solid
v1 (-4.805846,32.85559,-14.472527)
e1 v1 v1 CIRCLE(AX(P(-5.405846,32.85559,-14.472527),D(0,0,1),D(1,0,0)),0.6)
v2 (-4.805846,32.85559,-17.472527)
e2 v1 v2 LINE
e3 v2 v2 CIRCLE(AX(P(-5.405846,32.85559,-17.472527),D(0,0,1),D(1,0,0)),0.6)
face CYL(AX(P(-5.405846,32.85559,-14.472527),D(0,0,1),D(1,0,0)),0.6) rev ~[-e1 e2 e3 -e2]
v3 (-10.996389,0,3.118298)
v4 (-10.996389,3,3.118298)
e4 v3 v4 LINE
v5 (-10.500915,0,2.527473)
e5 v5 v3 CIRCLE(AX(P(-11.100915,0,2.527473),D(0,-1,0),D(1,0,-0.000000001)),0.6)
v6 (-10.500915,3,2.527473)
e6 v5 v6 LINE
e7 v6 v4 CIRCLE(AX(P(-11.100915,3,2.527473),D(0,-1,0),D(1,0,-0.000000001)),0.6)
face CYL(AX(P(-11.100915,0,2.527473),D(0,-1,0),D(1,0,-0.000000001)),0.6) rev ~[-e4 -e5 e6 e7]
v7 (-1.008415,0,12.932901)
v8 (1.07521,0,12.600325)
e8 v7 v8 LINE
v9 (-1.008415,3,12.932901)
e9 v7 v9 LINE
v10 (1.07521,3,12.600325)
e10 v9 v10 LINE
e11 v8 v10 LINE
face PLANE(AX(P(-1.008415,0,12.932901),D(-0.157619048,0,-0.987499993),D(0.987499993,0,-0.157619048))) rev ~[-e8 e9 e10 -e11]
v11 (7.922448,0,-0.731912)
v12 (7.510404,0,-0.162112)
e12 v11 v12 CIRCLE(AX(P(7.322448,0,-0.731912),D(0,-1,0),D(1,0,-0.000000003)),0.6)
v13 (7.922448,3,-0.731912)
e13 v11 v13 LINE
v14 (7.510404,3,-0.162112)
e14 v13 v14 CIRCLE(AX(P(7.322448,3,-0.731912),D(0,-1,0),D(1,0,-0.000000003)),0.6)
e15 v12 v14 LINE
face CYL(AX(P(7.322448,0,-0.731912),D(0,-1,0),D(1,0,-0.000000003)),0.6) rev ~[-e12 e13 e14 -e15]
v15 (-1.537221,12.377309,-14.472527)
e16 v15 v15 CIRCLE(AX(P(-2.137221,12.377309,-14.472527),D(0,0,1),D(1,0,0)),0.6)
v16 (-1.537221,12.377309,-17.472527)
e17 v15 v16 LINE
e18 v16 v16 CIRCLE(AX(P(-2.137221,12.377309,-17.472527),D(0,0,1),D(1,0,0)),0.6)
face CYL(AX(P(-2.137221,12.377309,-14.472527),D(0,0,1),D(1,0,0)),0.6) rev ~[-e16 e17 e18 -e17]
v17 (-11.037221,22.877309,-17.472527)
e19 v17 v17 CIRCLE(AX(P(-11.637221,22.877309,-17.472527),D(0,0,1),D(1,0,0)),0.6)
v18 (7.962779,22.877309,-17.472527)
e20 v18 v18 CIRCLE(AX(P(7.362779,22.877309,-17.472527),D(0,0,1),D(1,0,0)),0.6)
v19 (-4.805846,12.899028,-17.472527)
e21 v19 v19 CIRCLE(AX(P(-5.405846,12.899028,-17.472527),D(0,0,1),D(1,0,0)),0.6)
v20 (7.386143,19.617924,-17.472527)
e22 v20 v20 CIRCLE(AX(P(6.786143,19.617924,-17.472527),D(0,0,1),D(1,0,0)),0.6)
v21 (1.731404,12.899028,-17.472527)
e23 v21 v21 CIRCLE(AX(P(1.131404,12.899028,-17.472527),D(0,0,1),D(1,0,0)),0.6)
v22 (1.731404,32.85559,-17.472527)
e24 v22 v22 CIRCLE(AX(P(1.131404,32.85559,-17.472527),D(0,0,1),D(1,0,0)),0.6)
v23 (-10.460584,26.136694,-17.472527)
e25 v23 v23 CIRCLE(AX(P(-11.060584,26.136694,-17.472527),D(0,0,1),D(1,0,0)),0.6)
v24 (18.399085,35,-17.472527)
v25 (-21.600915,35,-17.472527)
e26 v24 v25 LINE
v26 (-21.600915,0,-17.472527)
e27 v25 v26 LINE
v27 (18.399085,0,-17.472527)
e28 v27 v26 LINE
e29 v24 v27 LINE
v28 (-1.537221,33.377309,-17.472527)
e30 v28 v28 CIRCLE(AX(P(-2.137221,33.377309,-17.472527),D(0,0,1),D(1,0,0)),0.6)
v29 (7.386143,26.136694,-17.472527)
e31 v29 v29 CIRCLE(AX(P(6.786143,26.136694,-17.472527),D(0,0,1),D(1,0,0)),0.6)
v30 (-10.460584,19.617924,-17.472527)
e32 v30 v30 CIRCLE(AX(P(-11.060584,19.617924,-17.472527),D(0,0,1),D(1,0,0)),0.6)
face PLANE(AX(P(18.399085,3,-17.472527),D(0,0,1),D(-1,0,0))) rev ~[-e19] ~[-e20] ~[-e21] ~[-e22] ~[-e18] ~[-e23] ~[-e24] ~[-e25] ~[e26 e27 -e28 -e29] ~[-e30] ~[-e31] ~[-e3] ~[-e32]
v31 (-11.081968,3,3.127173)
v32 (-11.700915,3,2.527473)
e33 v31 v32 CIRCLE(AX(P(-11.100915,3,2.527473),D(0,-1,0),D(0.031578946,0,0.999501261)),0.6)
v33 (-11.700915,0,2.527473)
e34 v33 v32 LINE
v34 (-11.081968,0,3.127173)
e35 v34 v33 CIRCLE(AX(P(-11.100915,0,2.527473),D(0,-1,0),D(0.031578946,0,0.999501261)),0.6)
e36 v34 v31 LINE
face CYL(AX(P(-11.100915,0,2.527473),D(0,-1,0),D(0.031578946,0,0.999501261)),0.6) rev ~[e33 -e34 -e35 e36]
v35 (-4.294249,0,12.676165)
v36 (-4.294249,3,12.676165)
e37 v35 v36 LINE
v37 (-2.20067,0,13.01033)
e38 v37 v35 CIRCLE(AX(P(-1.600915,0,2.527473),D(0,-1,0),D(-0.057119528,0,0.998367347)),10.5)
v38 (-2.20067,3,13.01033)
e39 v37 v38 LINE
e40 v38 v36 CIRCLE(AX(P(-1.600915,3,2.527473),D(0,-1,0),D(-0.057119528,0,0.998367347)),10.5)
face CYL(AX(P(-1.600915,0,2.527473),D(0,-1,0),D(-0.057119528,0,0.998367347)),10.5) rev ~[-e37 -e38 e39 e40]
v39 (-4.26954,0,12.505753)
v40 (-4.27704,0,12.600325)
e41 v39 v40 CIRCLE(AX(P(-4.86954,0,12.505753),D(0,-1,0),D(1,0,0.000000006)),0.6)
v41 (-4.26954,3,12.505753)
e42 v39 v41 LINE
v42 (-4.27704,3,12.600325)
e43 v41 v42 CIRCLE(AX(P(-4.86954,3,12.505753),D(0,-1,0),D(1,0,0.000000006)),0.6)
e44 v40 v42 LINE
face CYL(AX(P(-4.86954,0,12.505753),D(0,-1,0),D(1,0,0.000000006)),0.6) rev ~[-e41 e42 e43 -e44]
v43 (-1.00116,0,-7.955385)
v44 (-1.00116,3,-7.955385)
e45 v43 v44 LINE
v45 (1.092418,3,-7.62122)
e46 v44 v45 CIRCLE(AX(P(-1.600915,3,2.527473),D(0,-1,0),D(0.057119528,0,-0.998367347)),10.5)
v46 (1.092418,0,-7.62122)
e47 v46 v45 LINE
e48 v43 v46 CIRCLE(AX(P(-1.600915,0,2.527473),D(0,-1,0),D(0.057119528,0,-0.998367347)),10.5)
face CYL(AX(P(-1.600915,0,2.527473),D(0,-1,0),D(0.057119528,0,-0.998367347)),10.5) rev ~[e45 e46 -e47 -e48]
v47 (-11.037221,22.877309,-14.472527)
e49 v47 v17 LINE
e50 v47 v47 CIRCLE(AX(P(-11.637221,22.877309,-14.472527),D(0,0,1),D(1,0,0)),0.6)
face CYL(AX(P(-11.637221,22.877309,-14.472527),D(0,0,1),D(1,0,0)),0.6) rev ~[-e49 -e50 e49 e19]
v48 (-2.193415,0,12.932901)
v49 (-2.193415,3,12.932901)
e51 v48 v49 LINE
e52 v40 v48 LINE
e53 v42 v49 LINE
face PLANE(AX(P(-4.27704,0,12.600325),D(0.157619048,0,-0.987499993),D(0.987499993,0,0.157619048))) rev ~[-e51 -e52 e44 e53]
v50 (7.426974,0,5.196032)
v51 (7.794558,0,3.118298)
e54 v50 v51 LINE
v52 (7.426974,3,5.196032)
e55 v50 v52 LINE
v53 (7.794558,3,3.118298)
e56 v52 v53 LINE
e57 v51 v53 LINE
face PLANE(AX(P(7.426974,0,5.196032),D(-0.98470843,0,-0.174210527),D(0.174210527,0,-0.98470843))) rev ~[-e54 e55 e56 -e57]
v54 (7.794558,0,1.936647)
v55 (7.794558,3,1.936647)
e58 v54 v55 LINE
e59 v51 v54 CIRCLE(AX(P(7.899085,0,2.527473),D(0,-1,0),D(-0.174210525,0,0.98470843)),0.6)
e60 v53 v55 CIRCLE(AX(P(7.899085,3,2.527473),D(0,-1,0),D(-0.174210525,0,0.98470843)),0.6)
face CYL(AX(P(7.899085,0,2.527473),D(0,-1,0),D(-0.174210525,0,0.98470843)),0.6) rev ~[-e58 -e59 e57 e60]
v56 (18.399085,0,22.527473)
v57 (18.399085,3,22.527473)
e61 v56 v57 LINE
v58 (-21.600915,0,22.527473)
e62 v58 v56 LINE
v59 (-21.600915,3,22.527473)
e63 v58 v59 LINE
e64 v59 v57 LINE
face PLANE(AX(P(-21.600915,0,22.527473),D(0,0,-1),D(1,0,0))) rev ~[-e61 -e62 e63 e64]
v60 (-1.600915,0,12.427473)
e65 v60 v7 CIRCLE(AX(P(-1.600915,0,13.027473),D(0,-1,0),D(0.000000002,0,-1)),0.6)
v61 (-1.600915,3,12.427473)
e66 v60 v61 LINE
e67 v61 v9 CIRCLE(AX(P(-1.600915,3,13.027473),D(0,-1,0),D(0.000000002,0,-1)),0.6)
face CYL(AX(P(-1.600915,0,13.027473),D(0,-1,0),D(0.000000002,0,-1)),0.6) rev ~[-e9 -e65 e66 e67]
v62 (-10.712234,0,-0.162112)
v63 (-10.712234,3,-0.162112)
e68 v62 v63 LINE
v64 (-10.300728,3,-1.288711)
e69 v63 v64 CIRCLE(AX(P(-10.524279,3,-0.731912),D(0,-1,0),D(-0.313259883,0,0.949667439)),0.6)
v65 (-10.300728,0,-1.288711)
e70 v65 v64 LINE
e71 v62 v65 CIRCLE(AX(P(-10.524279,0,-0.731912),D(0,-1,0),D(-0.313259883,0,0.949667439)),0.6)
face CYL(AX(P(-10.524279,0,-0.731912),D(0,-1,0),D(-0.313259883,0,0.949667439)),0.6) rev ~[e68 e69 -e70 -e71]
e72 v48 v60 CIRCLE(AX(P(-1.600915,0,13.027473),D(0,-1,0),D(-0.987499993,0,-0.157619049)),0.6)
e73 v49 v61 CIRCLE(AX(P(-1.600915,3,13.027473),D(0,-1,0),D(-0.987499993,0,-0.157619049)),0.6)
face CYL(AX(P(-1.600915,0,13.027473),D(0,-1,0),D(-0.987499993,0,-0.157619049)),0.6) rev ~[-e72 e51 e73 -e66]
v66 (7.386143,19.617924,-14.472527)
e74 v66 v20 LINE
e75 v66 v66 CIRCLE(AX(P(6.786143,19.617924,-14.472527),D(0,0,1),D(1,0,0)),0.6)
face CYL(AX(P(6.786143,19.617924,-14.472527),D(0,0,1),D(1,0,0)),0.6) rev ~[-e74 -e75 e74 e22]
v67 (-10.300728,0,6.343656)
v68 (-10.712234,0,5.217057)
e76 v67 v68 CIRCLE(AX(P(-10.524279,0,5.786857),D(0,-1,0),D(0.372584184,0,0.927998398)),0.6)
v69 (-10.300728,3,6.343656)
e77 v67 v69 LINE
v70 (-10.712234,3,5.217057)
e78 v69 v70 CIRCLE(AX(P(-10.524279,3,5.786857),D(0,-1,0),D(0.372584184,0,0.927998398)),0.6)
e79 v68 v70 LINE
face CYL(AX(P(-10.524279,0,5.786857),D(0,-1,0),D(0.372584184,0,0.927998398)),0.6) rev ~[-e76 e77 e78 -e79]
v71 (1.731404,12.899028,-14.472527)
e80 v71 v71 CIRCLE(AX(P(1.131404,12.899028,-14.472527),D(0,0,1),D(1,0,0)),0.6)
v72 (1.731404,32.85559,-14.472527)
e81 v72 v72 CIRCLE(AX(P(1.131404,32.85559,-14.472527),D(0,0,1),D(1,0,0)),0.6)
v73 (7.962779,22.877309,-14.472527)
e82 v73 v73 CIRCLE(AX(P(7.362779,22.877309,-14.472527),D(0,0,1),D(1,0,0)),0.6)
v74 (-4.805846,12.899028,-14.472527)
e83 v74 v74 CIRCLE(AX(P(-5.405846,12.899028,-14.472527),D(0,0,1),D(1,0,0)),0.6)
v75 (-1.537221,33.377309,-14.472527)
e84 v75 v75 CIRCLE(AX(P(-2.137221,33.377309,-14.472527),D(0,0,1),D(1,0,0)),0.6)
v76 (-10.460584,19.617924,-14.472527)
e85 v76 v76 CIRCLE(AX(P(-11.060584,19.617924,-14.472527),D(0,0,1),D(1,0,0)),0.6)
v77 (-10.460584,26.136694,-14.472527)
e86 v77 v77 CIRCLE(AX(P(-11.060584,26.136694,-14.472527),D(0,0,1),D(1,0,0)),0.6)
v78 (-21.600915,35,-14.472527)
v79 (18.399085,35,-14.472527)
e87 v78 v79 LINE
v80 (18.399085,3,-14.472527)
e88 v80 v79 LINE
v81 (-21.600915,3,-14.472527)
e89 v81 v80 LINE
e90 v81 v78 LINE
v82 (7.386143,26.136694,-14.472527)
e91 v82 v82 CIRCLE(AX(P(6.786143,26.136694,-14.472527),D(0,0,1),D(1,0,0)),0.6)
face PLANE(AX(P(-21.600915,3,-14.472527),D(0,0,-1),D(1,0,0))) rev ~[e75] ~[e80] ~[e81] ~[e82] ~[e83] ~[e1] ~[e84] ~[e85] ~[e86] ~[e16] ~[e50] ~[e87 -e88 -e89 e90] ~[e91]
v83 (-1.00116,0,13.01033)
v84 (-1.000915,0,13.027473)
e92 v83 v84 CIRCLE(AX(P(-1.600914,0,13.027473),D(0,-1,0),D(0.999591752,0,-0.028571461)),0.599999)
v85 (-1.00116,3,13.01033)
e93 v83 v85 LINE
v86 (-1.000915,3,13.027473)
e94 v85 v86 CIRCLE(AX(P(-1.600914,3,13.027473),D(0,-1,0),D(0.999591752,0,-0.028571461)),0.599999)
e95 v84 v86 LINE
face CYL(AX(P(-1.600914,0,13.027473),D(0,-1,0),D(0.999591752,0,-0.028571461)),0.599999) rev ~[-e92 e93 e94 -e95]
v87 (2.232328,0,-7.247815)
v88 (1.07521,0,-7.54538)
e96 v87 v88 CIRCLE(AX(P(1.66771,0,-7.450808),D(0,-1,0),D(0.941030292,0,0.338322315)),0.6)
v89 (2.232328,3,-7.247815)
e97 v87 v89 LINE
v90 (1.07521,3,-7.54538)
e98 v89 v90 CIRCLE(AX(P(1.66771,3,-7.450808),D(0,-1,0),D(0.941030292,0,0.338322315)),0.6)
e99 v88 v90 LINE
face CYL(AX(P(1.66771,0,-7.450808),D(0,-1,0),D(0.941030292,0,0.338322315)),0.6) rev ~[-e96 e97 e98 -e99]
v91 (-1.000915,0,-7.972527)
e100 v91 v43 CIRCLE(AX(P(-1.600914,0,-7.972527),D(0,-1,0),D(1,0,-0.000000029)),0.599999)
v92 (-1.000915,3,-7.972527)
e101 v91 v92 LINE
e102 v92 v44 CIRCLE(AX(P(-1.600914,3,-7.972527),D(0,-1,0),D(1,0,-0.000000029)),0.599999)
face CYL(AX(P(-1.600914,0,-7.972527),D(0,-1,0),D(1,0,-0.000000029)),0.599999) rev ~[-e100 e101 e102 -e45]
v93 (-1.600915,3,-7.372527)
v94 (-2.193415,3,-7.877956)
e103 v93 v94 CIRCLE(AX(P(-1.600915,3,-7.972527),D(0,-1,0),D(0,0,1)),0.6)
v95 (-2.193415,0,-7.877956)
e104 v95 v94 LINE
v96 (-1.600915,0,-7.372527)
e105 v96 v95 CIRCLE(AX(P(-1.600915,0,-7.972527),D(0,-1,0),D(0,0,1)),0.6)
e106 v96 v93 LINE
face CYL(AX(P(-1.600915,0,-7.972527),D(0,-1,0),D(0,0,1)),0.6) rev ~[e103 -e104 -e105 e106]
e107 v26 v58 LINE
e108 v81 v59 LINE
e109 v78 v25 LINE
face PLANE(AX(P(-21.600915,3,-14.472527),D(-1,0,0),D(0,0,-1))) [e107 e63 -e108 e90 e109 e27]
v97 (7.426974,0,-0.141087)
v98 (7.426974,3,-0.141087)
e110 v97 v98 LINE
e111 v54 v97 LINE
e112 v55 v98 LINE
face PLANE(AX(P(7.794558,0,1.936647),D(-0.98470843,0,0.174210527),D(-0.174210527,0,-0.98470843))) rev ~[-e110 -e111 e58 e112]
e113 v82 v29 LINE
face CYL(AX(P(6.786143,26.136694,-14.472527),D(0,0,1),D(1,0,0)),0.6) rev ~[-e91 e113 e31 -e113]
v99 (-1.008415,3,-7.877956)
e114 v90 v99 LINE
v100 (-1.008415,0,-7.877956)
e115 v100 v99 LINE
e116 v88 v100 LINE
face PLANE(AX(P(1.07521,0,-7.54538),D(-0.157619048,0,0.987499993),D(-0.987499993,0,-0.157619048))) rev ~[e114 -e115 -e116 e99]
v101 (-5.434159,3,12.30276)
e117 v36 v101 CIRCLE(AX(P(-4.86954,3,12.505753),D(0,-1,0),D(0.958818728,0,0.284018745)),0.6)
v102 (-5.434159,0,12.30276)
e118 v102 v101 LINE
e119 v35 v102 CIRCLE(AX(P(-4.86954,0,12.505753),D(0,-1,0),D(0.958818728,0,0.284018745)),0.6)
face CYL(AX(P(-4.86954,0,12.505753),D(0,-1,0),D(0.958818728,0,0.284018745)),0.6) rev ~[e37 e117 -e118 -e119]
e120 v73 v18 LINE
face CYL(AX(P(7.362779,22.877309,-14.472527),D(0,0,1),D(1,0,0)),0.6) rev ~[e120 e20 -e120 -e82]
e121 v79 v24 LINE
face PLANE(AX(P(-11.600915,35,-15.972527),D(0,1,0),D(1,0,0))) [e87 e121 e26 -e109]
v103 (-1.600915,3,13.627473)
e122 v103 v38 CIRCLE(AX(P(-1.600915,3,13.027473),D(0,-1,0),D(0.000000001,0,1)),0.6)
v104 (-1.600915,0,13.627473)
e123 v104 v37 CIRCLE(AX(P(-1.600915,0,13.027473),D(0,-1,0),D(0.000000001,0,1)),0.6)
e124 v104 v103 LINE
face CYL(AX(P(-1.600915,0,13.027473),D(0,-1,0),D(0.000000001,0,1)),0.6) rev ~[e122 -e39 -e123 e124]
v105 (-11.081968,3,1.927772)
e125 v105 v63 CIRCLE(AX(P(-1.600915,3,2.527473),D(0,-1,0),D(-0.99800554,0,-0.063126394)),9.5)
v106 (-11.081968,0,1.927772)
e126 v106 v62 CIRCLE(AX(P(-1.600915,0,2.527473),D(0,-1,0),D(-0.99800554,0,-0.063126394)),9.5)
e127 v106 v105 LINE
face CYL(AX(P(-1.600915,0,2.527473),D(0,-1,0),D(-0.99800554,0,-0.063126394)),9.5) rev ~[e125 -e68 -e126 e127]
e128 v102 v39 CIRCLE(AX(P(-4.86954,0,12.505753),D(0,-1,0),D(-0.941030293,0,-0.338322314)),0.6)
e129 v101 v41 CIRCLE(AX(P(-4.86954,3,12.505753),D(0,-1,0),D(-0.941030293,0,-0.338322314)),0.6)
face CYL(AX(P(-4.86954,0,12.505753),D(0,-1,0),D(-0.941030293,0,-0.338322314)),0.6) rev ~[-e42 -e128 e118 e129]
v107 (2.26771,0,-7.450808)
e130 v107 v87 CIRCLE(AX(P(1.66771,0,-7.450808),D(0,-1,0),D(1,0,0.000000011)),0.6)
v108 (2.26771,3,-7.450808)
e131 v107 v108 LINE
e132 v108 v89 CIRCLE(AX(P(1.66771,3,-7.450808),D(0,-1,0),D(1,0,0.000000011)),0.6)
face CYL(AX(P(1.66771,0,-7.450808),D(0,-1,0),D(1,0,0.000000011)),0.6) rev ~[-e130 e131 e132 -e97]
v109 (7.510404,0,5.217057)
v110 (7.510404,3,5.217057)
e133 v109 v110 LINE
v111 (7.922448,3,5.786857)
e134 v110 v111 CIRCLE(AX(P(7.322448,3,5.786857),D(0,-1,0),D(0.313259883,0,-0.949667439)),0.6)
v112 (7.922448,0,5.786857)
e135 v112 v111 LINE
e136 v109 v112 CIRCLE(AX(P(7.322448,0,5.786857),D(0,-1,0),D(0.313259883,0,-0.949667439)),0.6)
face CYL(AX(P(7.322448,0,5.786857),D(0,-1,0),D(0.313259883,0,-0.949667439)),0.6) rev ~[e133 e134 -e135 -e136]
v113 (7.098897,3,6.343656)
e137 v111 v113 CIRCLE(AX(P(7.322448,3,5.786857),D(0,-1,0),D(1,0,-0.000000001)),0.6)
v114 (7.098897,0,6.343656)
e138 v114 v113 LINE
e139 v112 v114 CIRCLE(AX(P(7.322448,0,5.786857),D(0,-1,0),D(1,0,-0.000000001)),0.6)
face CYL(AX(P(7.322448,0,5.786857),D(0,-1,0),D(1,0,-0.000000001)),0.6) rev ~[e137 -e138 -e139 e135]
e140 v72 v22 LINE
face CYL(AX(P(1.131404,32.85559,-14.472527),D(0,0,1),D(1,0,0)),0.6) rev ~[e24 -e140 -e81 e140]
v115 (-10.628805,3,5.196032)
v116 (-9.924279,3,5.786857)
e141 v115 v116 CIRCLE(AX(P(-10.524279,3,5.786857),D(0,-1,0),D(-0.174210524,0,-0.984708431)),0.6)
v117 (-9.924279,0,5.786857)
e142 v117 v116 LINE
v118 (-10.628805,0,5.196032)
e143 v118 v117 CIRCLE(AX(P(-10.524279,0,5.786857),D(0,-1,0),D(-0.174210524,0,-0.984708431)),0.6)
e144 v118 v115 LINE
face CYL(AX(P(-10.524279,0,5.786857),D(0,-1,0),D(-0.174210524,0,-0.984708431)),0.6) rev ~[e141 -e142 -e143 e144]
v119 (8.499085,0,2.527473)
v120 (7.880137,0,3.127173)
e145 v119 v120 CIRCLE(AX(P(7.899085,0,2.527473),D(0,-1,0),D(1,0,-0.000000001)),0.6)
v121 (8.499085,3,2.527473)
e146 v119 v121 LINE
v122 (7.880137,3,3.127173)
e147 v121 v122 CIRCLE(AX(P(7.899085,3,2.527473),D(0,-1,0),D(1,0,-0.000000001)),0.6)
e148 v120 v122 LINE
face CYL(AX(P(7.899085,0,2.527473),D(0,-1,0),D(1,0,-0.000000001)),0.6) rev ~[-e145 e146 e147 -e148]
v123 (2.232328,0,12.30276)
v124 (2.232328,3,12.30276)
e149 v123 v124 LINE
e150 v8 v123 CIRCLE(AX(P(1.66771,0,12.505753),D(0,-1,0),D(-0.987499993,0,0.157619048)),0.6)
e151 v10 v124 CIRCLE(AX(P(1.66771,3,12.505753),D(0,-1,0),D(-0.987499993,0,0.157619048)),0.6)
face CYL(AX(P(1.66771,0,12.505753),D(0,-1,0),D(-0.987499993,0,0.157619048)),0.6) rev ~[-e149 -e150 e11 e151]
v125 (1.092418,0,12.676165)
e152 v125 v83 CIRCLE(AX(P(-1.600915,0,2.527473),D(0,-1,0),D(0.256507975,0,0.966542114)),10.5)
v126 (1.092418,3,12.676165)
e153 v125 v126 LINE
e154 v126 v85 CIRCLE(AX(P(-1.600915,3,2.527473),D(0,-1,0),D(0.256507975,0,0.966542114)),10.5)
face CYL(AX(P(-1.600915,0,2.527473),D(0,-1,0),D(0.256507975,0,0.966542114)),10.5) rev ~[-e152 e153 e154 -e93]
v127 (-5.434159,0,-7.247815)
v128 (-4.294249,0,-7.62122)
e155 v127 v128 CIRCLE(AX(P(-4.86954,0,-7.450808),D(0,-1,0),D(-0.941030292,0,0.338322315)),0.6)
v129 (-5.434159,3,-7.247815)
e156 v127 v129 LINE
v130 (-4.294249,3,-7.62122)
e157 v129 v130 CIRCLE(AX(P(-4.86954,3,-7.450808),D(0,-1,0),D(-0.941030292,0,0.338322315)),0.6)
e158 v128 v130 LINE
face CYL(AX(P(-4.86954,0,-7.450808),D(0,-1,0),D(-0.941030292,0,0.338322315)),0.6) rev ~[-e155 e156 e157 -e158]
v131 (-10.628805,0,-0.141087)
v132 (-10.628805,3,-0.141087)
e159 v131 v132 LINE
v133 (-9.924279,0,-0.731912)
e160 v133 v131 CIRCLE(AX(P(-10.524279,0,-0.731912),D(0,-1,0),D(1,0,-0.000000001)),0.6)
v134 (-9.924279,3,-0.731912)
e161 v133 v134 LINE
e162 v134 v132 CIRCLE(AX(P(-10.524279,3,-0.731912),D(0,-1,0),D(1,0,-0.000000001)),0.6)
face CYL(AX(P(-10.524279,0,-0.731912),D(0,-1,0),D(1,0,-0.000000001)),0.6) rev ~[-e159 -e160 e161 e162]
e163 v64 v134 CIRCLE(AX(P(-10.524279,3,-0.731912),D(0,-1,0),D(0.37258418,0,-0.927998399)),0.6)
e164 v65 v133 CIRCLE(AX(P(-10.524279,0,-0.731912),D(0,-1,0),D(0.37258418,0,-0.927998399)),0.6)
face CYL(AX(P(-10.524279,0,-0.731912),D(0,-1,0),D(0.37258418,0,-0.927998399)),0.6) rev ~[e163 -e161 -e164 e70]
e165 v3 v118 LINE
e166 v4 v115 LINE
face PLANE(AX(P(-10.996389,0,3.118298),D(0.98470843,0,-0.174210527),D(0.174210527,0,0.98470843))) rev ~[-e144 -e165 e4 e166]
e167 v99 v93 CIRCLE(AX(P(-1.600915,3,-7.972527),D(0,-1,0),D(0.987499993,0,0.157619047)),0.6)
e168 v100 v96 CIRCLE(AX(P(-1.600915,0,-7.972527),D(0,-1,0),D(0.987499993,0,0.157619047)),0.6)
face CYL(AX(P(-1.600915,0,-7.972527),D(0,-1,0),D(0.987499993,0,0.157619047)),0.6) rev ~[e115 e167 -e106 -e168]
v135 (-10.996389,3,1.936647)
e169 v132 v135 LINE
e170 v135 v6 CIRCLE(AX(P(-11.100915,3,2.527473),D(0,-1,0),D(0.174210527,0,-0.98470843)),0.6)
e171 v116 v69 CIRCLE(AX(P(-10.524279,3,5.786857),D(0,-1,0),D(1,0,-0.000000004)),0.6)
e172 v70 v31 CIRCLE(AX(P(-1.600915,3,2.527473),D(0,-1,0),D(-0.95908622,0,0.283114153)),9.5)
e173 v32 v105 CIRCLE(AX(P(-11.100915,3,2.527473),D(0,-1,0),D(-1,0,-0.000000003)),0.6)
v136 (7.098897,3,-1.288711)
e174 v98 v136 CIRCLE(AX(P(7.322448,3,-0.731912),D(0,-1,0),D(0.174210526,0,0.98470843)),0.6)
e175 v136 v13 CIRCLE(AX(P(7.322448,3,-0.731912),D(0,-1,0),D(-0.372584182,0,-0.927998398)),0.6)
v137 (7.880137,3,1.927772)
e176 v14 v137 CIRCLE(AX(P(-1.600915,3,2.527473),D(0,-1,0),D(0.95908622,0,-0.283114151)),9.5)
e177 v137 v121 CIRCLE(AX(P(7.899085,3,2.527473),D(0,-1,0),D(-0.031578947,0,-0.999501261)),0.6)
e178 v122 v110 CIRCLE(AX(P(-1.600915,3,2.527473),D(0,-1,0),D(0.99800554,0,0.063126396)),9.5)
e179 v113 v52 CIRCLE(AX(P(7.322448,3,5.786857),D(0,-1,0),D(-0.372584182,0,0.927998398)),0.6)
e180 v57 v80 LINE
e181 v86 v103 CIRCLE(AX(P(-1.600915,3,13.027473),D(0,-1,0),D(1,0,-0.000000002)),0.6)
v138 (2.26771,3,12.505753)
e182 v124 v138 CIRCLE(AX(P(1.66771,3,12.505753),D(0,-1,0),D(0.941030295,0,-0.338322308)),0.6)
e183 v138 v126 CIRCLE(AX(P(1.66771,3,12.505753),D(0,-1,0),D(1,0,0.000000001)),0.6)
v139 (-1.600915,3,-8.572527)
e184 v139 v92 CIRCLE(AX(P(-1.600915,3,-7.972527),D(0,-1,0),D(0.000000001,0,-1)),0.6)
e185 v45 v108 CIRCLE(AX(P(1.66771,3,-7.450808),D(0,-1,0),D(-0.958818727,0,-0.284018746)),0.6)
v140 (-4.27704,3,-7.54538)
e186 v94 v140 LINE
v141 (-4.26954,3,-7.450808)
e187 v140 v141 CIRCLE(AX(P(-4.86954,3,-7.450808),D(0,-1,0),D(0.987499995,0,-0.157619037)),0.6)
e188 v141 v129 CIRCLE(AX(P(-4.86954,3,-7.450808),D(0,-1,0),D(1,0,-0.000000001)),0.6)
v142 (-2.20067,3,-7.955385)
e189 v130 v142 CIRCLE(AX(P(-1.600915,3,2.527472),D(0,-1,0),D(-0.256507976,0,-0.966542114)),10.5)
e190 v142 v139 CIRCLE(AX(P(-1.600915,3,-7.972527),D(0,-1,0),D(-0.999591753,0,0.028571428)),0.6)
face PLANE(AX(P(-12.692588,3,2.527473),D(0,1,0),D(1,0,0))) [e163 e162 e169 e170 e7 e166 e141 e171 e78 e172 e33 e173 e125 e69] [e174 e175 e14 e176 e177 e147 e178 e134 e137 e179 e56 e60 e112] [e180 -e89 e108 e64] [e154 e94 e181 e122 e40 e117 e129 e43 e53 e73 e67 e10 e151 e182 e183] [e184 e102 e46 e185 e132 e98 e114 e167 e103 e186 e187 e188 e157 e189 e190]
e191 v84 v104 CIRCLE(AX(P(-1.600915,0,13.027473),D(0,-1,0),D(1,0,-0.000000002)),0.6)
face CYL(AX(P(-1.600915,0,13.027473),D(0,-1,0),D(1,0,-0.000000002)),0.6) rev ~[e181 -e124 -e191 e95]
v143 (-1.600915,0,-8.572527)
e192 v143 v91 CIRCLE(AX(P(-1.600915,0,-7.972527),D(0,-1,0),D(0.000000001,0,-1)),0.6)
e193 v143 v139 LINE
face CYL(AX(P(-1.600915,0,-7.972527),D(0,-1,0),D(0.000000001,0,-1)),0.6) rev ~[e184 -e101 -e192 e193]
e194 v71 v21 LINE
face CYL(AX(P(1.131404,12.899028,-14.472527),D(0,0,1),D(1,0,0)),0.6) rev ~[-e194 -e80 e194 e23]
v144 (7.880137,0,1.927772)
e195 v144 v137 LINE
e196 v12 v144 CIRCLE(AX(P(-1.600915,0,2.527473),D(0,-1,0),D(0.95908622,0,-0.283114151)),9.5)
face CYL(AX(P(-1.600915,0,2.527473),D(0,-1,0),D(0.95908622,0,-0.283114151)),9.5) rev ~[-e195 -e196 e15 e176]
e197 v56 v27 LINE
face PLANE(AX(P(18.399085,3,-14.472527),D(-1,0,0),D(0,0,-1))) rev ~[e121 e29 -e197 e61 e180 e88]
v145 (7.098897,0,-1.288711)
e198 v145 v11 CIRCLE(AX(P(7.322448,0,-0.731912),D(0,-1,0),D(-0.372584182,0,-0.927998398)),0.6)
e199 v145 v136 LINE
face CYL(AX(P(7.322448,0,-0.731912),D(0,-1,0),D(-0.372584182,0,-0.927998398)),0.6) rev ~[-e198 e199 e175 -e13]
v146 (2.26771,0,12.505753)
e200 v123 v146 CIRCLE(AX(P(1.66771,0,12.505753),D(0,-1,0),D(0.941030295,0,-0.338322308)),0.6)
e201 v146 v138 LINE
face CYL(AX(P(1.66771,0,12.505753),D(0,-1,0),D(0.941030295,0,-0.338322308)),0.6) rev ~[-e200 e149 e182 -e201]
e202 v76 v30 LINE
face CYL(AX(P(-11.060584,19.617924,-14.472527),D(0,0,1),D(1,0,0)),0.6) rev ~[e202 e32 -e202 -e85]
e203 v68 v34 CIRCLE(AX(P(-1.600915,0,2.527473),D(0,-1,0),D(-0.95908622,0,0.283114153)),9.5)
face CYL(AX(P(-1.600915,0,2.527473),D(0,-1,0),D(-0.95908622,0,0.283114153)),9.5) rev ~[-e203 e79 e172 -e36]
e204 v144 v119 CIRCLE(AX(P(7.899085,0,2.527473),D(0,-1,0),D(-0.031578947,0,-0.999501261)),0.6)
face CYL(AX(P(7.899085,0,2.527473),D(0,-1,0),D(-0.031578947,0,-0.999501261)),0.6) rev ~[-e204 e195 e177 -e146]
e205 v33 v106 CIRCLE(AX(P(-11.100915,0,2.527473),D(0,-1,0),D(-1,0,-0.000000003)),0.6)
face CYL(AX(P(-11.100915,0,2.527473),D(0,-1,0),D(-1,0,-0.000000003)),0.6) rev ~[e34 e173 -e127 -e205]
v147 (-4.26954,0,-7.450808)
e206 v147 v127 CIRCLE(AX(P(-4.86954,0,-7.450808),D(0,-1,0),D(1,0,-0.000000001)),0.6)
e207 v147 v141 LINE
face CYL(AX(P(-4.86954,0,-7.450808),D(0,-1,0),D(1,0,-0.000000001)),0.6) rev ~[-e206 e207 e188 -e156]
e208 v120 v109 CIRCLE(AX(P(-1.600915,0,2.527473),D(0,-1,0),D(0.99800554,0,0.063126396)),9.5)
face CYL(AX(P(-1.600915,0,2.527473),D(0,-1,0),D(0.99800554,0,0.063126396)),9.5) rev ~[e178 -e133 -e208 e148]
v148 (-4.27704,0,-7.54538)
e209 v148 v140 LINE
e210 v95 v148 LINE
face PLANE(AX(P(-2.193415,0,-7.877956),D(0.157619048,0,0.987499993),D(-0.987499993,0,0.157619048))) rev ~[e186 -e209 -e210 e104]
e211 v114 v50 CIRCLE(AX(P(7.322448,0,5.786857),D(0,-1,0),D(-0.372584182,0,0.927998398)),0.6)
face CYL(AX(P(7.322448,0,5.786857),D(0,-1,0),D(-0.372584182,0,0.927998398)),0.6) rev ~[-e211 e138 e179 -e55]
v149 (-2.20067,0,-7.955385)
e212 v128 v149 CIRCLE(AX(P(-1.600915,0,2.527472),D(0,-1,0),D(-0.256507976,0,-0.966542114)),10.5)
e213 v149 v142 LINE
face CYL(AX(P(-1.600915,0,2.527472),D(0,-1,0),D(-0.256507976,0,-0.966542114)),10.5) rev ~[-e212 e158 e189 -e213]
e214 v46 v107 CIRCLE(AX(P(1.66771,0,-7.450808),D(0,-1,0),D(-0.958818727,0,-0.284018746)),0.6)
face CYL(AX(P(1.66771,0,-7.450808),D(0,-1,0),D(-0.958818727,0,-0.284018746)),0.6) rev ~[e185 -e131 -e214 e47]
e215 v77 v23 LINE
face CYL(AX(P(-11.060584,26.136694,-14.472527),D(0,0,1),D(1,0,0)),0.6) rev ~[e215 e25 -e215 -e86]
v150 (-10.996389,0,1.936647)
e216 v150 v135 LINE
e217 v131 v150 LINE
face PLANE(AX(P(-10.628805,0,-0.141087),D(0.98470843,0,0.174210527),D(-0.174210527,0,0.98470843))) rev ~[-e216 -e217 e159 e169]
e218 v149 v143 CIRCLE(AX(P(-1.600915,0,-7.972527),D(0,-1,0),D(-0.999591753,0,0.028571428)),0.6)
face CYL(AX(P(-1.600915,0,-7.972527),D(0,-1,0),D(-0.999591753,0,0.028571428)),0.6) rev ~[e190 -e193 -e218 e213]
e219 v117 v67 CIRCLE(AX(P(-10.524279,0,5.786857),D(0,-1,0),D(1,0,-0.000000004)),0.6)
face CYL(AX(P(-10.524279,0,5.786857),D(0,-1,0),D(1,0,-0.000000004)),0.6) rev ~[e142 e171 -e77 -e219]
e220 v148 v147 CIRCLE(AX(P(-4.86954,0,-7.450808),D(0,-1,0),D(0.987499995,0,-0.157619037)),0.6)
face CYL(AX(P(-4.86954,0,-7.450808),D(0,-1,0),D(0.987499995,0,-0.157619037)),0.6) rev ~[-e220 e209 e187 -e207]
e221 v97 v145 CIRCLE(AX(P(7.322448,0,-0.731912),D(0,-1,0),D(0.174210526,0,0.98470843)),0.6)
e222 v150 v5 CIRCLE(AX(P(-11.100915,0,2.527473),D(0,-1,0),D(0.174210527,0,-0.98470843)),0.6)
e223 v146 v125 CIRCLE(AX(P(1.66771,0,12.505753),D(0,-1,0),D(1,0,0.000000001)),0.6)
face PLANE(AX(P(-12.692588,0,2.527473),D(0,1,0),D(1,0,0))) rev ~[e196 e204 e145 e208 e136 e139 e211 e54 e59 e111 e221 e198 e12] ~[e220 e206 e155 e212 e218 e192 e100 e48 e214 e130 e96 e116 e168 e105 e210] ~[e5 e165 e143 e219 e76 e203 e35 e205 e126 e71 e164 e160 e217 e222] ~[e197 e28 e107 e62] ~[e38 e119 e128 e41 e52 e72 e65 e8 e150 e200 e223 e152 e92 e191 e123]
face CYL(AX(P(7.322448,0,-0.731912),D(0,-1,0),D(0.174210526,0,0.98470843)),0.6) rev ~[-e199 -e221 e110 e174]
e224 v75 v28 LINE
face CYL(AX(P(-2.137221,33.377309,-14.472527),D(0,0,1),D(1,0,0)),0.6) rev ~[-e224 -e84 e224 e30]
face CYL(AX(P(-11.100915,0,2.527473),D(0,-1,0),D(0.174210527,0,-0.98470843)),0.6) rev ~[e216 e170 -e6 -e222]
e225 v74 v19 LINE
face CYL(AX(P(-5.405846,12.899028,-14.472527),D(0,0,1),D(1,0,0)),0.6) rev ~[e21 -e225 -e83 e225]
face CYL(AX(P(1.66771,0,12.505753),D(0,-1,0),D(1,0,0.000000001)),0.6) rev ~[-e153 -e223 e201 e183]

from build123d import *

# Parameters (mm, degrees)
BOSS_EXTRU_1_DEPTH      = 3
ESQUISSE2_W             = 20
ESQUISSE2_H             = 3
BOSS_EXTRU_2_DEPTH      = 32
ESQUISSE3_R             = 0.6
ENL_V_MAT_EXTRU_1_DEPTH = 32


with BuildPart() as part:
    # Esquisse1 → Boss.-Extru.1 (new body)
    with BuildSketch(Plane(origin=(0, 0, 0), x_dir=(1, 0, 0), z_dir=(0, 1, 0))):
        with BuildLine():
            Line((-1.600915354, 17.472527473), (-21.600915354, 17.472527473))
            Line((-21.600915354, 17.472527473), (-21.600915354, -22.527472527))
            Line((-21.600915354, -22.527472527), (-1.600915354, -22.527472527))
            Line((-1.600915354, -22.527472527), (-1.600915354, -14.527472527))
            ThreePointArc((-1.600915354, -14.527472527), (-10.086196728, -11.012753902), (-13.600915354, -2.527472527))
            ThreePointArc((-13.600915354, -2.527472527), (-10.086196728, 5.957808847), (-1.600915354, 9.472527473))
            Line((-1.600915354, 9.472527473), (-1.600915354, 17.472527473))
        make_face()
        with BuildLine():
            Line((-12.100915354, -2.527472527), (-13.600915354, -2.527472527))
            ThreePointArc((-13.600915354, -2.527472527), (-10.086196728, -11.012753902), (-1.600915354, -14.527472527))
            Line((-1.600915354, -14.527472527), (-1.600915354, -13.627472527))
            ThreePointArc((-1.600915354, -13.627472527), (-2.031197653, -13.445631759), (-2.200670406, -13.01032967))
            ThreePointArc((-2.200670406, -13.01032967), (-3.255915354, -12.896222452), (-4.294249093, -12.676164727))
            ThreePointArc((-4.294249093, -12.676164727), (-5.0563189, -13.075940963), (-5.434158505, -12.302760091))
            ThreePointArc((-5.434158505, -12.302760091), (-10.275563851, -8.443592325), (-12.100915354, -2.527472527))
        make_face()
        with BuildLine():
            Line((-1.600915354, 8.572527473), (-1.600915354, 9.472527473))
            ThreePointArc((-1.600915354, 9.472527473), (-10.086196728, 5.957808847), (-13.600915354, -2.527472527))
            Line((-13.600915354, -2.527472527), (-12.100915354, -2.527472527))
            ThreePointArc((-12.100915354, -2.527472527), (-10.275563851, 3.38864727), (-5.434158505, 7.247815036))
            ThreePointArc((-5.434158505, 7.247815036), (-5.0563189, 8.020995908), (-4.294249093, 7.621219672))
            ThreePointArc((-4.294249093, 7.621219672), (-3.255915354, 7.841277397), (-2.200670406, 7.955384615))
            ThreePointArc((-2.200670406, 7.955384615), (-2.031197653, 8.390686704), (-1.600915354, 8.572527473))
        make_face()
        with BuildLine():
            Line((-11.700915354, -2.527472527), (-12.100915354, -2.527472527))
            ThreePointArc((-12.100915354, -2.527472527), (-10.275563851, -8.443592325), (-5.434158505, -12.302760091))
            ThreePointArc((-5.434158505, -12.302760091), (-4.766513404, -11.914665117), (-4.26954033, -12.50575348))
            ThreePointArc((-4.26954033, -12.50575348), (-4.27141827, -12.553187658), (-4.277040334, -12.600324908))
            Line((-4.277040334, -12.600324908), (-2.193415349, -12.932901099))
            ThreePointArc((-2.193415349, -12.932901099), (-1.990310489, -12.570995334), (-1.600915354, -12.427472527))
            Line((-1.600915354, -12.427472527), (-1.600915354, -12.027472527))
            ThreePointArc((-1.600915354, -12.027472527), (-6.796887474, -10.480577187), (-10.300728002, -6.34365647))
            ThreePointArc((-10.300728002, -6.34365647), (-11.087859343, -5.99271332), (-10.712234442, -5.217056968))
            ThreePointArc((-10.712234442, -5.217056968), (-10.955645441, -4.182472527), (-11.081967985, -3.127173284))
            ThreePointArc((-11.081967985, -3.127173284), (-11.518426778, -2.958383435), (-11.700915354, -2.527472527))
        make_face()
        with BuildLine():
            ThreePointArc((-5.434158505, 7.247815036), (-10.275563851, 3.38864727), (-12.100915354, -2.527472527))
            Line((-12.100915354, -2.527472527), (-11.700915354, -2.527472527))
            ThreePointArc((-11.700915354, -2.527472527), (-11.518426778, -2.09656162), (-11.081967985, -1.927771771))
            ThreePointArc((-11.081967985, -1.927771771), (-10.955645441, -0.872472527), (-10.712234442, 0.162111913))
            ThreePointArc((-10.712234442, 0.162111913), (-11.087859343, 0.937768265), (-10.300728002, 1.288711415))
            ThreePointArc((-10.300728002, 1.288711415), (-6.796887474, 5.425632132), (-1.600915354, 6.972527473))
            Line((-1.600915354, 6.972527473), (-1.600915354, 7.372527473))
            ThreePointArc((-1.600915354, 7.372527473), (-1.990310489, 7.516050279), (-2.193415349, 7.877956044))
            Line((-2.193415349, 7.877956044), (-4.277040334, 7.545379853))
            ThreePointArc((-4.277040334, 7.545379853), (-4.27141827, 7.498242603), (-4.26954033, 7.450808425))
            ThreePointArc((-4.26954033, 7.450808425), (-4.766513404, 6.859720062), (-5.434158505, 7.247815036))
        make_face()
        with BuildLine():
            Line((-1.600915354, -2.527472527), (-1.600915354, 6.972527473))
            ThreePointArc((-1.600915354, 6.972527473), (-6.796887474, 5.425632132), (-10.300728002, 1.288711415))
            ThreePointArc((-10.300728002, 1.288711415), (-10.027222023, 1.06797018), (-9.924278512, 0.731912377))
            ThreePointArc((-9.924278512, 0.731912377), (-10.138737197, 0.27217561), (-10.628804827, 0.141087318))
            Line((-10.628804827, 0.141087318), (-10.996389038, -1.936647469))
            ThreePointArc((-10.996389038, -1.936647469), (-10.641178587, -2.141931213), (-10.500915354, -2.527472527))
            ThreePointArc((-10.500915354, -2.527472527), (-10.641178587, -2.913013842), (-10.996389038, -3.118297586))
            Line((-10.996389038, -3.118297586), (-10.628804827, -5.196032373))
            ThreePointArc((-10.628804827, -5.196032373), (-10.138737197, -5.327120665), (-9.924278512, -5.786857431))
            ThreePointArc((-9.924278512, -5.786857431), (-10.027222023, -6.122915235), (-10.300728002, -6.34365647))
            ThreePointArc((-10.300728002, -6.34365647), (-6.796887474, -10.480577187), (-1.600915354, -12.027472527))
            Line((-1.600915354, -12.027472527), (-1.600915354, -2.527472527))
        make_face()
        with BuildLine():
            ThreePointArc((7.098897295, 1.288711415), (3.595056766, 5.425632132), (-1.600915354, 6.972527473))
            Line((-1.600915354, 6.972527473), (-1.600915354, -2.527472527))
            Line((-1.600915354, -2.527472527), (-1.600915354, -12.027472527))
            ThreePointArc((-1.600915354, -12.027472527), (3.595056766, -10.480577187), (7.098897295, -6.34365647))
            ThreePointArc((7.098897295, -6.34365647), (6.745557904, -5.621939139), (7.42697412, -5.196032373))
            Line((7.42697412, -5.196032373), (7.794558331, -3.118297586))
            ThreePointArc((7.794558331, -3.118297586), (7.299084646, -2.527472527), (7.794558331, -1.936647469))
            Line((7.794558331, -1.936647469), (7.42697412, 0.141087318))
            ThreePointArc((7.42697412, 0.141087318), (6.745557904, 0.566994084), (7.098897295, 1.288711415))
        make_face()
        with BuildLine():
            ThreePointArc((2.232327798, -12.302760091), (7.073733143, -8.443592325), (8.899084646, -2.527472527))
            Line((8.899084646, -2.527472527), (8.499084646, -2.527472527))
            ThreePointArc((8.499084646, -2.527472527), (8.316596071, -2.958383435), (7.880137278, -3.127173284))
            ThreePointArc((7.880137278, -3.127173284), (7.753814733, -4.182472527), (7.510403735, -5.217056968))
            ThreePointArc((7.510403735, -5.217056968), (7.80864404, -5.435270713), (7.922447804, -5.786857431))
            ThreePointArc((7.922447804, -5.786857431), (7.658505607, -6.28391392), (7.098897295, -6.34365647))
            ThreePointArc((7.098897295, -6.34365647), (3.595056766, -10.480577187), (-1.600915354, -12.027472527))
            Line((-1.600915354, -12.027472527), (-1.600915354, -12.427472527))
            ThreePointArc((-1.600915354, -12.427472527), (-1.211520218, -12.570995334), (-1.008415358, -12.932901099))
            Line((-1.008415358, -12.932901099), (1.075209627, -12.600324908))
            ThreePointArc((1.075209627, -12.600324908), (1.518275509, -11.92466016), (2.232327798, -12.302760091))
        make_face()
        with BuildLine():
            Line((8.499084646, -2.527472527), (8.899084646, -2.527472527))
            ThreePointArc((8.899084646, -2.527472527), (7.073733143, 3.38864727), (2.232327798, 7.247815036))
            ThreePointArc((2.232327798, 7.247815036), (1.518275509, 6.869715106), (1.075209627, 7.545379853))
            Line((1.075209627, 7.545379853), (-1.008415358, 7.877956044))
            ThreePointArc((-1.008415358, 7.877956044), (-1.211520218, 7.516050279), (-1.600915354, 7.372527473))
            Line((-1.600915354, 7.372527473), (-1.600915354, 6.972527473))
            ThreePointArc((-1.600915354, 6.972527473), (3.595056766, 5.425632132), (7.098897295, 1.288711415))
            ThreePointArc((7.098897295, 1.288711415), (7.658505607, 1.228968865), (7.922447804, 0.731912377))
            ThreePointArc((7.922447804, 0.731912377), (7.80864404, 0.380325658), (7.510403735, 0.162111913))
            ThreePointArc((7.510403735, 0.162111913), (7.753814733, -0.872472527), (7.880137278, -1.927771771))
            ThreePointArc((7.880137278, -1.927771771), (8.316596071, -2.09656162), (8.499084646, -2.527472527))
        make_face()
        with BuildLine():
            ThreePointArc((10.399084646, -2.527472527), (6.884366021, 5.957808847), (-1.600915354, 9.472527473))
            Line((-1.600915354, 9.472527473), (-1.600915354, 8.572527473))
            ThreePointArc((-1.600915354, 8.572527473), (-1.176651285, 8.396791541), (-1.000915354, 7.972527473))
            ThreePointArc((-1.000915354, 7.972527473), (-1.000976594, 7.963955169), (-1.001160302, 7.955384615))
            ThreePointArc((-1.001160302, 7.955384615), (0.054084646, 7.841277397), (1.092418386, 7.621219672))
            ThreePointArc((1.092418386, 7.621219672), (1.753806249, 8.044599104), (2.267709623, 7.450808425))
            ThreePointArc((2.267709623, 7.450808425), (2.258797985, 7.347781499), (2.232327798, 7.247815036))
            ThreePointArc((2.232327798, 7.247815036), (7.073733143, 3.38864727), (8.899084646, -2.527472527))
            Line((8.899084646, -2.527472527), (10.399084646, -2.527472527))
        make_face()
        with BuildLine():
            ThreePointArc((-1.600915354, -14.527472527), (6.884366021, -11.012753902), (10.399084646, -2.527472527))
            Line((10.399084646, -2.527472527), (8.899084646, -2.527472527))
            ThreePointArc((8.899084646, -2.527472527), (7.073733143, -8.443592325), (2.232327798, -12.302760091))
            ThreePointArc((2.232327798, -12.302760091), (2.258797985, -12.402726554), (2.267709623, -12.50575348))
            ThreePointArc((2.267709623, -12.50575348), (1.753806249, -13.099544159), (1.092418386, -12.676164727))
            ThreePointArc((1.092418386, -12.676164727), (0.054084646, -12.896222452), (-1.001160302, -13.01032967))
            ThreePointArc((-1.001160302, -13.01032967), (-1.000976594, -13.018900224), (-1.000915354, -13.027472527))
            ThreePointArc((-1.000915354, -13.027472527), (-1.176651285, -13.451736596), (-1.600915354, -13.627472527))
            Line((-1.600915354, -13.627472527), (-1.600915354, -14.527472527))
        make_face()
        with BuildLine():
            Line((18.399084646, 17.472527473), (-1.600915354, 17.472527473))
            Line((-1.600915354, 17.472527473), (-1.600915354, 9.472527473))
            ThreePointArc((-1.600915354, 9.472527473), (6.884366021, 5.957808847), (10.399084646, -2.527472527))
            ThreePointArc((10.399084646, -2.527472527), (6.884366021, -11.012753902), (-1.600915354, -14.527472527))
            Line((-1.600915354, -14.527472527), (-1.600915354, -22.527472527))
            Line((-1.600915354, -22.527472527), (18.399084646, -22.527472527))
            Line((18.399084646, -22.527472527), (18.399084646, 17.472527473))
        make_face()
    extrude(amount=BOSS_EXTRU_1_DEPTH)

    # Esquisse2 → Boss.-Extru.2 (add)
    with BuildSketch(Plane(origin=(0, 3, 0), x_dir=(1, 0, 0), z_dir=(0, 1, 0))):
        with Locations((-11.600915354, 15.972527473)):
            Rectangle(ESQUISSE2_W, ESQUISSE2_H)
        with Locations((8.399084646, 15.972527473)):
            Rectangle(ESQUISSE2_W, ESQUISSE2_H)
    extrude(amount=BOSS_EXTRU_2_DEPTH)

    # Esquisse3 → Enlèv. mat.-Extru.1 (cut)
    with BuildSketch(Plane.XY.offset(-14.472527473)):
        with Locations((7.362779374, 22.8773094)):
            Circle(ESQUISSE3_R)
        with Locations((-11.637220626, 22.8773094)):
            Circle(ESQUISSE3_R)
        with Locations((-2.137220626, 33.3773094)):
            Circle(ESQUISSE3_R)
        with Locations((-2.137220626, 12.3773094)):
            Circle(ESQUISSE3_R)
        with Locations((1.13140435, 32.855590352)):
            Circle(ESQUISSE3_R)
        with Locations((-5.405845603, 32.855590352)):
            Circle(ESQUISSE3_R)
        with Locations((-5.405845603, 12.899028447)):
            Circle(ESQUISSE3_R)
        with Locations((1.13140435, 12.899028447)):
            Circle(ESQUISSE3_R)
        with Locations((-11.060583784, 26.136694304)):
            Circle(ESQUISSE3_R)
        with Locations((-11.060583784, 19.617924496)):
            Circle(ESQUISSE3_R)
        with Locations((6.786142531, 26.136694304)):
            Circle(ESQUISSE3_R)
        with Locations((6.786142531, 19.617924496)):
            Circle(ESQUISSE3_R)
    extrude(amount=-ENL_V_MAT_EXTRU_1_DEPTH, mode=Mode.SUBTRACT)


solid = part.part
